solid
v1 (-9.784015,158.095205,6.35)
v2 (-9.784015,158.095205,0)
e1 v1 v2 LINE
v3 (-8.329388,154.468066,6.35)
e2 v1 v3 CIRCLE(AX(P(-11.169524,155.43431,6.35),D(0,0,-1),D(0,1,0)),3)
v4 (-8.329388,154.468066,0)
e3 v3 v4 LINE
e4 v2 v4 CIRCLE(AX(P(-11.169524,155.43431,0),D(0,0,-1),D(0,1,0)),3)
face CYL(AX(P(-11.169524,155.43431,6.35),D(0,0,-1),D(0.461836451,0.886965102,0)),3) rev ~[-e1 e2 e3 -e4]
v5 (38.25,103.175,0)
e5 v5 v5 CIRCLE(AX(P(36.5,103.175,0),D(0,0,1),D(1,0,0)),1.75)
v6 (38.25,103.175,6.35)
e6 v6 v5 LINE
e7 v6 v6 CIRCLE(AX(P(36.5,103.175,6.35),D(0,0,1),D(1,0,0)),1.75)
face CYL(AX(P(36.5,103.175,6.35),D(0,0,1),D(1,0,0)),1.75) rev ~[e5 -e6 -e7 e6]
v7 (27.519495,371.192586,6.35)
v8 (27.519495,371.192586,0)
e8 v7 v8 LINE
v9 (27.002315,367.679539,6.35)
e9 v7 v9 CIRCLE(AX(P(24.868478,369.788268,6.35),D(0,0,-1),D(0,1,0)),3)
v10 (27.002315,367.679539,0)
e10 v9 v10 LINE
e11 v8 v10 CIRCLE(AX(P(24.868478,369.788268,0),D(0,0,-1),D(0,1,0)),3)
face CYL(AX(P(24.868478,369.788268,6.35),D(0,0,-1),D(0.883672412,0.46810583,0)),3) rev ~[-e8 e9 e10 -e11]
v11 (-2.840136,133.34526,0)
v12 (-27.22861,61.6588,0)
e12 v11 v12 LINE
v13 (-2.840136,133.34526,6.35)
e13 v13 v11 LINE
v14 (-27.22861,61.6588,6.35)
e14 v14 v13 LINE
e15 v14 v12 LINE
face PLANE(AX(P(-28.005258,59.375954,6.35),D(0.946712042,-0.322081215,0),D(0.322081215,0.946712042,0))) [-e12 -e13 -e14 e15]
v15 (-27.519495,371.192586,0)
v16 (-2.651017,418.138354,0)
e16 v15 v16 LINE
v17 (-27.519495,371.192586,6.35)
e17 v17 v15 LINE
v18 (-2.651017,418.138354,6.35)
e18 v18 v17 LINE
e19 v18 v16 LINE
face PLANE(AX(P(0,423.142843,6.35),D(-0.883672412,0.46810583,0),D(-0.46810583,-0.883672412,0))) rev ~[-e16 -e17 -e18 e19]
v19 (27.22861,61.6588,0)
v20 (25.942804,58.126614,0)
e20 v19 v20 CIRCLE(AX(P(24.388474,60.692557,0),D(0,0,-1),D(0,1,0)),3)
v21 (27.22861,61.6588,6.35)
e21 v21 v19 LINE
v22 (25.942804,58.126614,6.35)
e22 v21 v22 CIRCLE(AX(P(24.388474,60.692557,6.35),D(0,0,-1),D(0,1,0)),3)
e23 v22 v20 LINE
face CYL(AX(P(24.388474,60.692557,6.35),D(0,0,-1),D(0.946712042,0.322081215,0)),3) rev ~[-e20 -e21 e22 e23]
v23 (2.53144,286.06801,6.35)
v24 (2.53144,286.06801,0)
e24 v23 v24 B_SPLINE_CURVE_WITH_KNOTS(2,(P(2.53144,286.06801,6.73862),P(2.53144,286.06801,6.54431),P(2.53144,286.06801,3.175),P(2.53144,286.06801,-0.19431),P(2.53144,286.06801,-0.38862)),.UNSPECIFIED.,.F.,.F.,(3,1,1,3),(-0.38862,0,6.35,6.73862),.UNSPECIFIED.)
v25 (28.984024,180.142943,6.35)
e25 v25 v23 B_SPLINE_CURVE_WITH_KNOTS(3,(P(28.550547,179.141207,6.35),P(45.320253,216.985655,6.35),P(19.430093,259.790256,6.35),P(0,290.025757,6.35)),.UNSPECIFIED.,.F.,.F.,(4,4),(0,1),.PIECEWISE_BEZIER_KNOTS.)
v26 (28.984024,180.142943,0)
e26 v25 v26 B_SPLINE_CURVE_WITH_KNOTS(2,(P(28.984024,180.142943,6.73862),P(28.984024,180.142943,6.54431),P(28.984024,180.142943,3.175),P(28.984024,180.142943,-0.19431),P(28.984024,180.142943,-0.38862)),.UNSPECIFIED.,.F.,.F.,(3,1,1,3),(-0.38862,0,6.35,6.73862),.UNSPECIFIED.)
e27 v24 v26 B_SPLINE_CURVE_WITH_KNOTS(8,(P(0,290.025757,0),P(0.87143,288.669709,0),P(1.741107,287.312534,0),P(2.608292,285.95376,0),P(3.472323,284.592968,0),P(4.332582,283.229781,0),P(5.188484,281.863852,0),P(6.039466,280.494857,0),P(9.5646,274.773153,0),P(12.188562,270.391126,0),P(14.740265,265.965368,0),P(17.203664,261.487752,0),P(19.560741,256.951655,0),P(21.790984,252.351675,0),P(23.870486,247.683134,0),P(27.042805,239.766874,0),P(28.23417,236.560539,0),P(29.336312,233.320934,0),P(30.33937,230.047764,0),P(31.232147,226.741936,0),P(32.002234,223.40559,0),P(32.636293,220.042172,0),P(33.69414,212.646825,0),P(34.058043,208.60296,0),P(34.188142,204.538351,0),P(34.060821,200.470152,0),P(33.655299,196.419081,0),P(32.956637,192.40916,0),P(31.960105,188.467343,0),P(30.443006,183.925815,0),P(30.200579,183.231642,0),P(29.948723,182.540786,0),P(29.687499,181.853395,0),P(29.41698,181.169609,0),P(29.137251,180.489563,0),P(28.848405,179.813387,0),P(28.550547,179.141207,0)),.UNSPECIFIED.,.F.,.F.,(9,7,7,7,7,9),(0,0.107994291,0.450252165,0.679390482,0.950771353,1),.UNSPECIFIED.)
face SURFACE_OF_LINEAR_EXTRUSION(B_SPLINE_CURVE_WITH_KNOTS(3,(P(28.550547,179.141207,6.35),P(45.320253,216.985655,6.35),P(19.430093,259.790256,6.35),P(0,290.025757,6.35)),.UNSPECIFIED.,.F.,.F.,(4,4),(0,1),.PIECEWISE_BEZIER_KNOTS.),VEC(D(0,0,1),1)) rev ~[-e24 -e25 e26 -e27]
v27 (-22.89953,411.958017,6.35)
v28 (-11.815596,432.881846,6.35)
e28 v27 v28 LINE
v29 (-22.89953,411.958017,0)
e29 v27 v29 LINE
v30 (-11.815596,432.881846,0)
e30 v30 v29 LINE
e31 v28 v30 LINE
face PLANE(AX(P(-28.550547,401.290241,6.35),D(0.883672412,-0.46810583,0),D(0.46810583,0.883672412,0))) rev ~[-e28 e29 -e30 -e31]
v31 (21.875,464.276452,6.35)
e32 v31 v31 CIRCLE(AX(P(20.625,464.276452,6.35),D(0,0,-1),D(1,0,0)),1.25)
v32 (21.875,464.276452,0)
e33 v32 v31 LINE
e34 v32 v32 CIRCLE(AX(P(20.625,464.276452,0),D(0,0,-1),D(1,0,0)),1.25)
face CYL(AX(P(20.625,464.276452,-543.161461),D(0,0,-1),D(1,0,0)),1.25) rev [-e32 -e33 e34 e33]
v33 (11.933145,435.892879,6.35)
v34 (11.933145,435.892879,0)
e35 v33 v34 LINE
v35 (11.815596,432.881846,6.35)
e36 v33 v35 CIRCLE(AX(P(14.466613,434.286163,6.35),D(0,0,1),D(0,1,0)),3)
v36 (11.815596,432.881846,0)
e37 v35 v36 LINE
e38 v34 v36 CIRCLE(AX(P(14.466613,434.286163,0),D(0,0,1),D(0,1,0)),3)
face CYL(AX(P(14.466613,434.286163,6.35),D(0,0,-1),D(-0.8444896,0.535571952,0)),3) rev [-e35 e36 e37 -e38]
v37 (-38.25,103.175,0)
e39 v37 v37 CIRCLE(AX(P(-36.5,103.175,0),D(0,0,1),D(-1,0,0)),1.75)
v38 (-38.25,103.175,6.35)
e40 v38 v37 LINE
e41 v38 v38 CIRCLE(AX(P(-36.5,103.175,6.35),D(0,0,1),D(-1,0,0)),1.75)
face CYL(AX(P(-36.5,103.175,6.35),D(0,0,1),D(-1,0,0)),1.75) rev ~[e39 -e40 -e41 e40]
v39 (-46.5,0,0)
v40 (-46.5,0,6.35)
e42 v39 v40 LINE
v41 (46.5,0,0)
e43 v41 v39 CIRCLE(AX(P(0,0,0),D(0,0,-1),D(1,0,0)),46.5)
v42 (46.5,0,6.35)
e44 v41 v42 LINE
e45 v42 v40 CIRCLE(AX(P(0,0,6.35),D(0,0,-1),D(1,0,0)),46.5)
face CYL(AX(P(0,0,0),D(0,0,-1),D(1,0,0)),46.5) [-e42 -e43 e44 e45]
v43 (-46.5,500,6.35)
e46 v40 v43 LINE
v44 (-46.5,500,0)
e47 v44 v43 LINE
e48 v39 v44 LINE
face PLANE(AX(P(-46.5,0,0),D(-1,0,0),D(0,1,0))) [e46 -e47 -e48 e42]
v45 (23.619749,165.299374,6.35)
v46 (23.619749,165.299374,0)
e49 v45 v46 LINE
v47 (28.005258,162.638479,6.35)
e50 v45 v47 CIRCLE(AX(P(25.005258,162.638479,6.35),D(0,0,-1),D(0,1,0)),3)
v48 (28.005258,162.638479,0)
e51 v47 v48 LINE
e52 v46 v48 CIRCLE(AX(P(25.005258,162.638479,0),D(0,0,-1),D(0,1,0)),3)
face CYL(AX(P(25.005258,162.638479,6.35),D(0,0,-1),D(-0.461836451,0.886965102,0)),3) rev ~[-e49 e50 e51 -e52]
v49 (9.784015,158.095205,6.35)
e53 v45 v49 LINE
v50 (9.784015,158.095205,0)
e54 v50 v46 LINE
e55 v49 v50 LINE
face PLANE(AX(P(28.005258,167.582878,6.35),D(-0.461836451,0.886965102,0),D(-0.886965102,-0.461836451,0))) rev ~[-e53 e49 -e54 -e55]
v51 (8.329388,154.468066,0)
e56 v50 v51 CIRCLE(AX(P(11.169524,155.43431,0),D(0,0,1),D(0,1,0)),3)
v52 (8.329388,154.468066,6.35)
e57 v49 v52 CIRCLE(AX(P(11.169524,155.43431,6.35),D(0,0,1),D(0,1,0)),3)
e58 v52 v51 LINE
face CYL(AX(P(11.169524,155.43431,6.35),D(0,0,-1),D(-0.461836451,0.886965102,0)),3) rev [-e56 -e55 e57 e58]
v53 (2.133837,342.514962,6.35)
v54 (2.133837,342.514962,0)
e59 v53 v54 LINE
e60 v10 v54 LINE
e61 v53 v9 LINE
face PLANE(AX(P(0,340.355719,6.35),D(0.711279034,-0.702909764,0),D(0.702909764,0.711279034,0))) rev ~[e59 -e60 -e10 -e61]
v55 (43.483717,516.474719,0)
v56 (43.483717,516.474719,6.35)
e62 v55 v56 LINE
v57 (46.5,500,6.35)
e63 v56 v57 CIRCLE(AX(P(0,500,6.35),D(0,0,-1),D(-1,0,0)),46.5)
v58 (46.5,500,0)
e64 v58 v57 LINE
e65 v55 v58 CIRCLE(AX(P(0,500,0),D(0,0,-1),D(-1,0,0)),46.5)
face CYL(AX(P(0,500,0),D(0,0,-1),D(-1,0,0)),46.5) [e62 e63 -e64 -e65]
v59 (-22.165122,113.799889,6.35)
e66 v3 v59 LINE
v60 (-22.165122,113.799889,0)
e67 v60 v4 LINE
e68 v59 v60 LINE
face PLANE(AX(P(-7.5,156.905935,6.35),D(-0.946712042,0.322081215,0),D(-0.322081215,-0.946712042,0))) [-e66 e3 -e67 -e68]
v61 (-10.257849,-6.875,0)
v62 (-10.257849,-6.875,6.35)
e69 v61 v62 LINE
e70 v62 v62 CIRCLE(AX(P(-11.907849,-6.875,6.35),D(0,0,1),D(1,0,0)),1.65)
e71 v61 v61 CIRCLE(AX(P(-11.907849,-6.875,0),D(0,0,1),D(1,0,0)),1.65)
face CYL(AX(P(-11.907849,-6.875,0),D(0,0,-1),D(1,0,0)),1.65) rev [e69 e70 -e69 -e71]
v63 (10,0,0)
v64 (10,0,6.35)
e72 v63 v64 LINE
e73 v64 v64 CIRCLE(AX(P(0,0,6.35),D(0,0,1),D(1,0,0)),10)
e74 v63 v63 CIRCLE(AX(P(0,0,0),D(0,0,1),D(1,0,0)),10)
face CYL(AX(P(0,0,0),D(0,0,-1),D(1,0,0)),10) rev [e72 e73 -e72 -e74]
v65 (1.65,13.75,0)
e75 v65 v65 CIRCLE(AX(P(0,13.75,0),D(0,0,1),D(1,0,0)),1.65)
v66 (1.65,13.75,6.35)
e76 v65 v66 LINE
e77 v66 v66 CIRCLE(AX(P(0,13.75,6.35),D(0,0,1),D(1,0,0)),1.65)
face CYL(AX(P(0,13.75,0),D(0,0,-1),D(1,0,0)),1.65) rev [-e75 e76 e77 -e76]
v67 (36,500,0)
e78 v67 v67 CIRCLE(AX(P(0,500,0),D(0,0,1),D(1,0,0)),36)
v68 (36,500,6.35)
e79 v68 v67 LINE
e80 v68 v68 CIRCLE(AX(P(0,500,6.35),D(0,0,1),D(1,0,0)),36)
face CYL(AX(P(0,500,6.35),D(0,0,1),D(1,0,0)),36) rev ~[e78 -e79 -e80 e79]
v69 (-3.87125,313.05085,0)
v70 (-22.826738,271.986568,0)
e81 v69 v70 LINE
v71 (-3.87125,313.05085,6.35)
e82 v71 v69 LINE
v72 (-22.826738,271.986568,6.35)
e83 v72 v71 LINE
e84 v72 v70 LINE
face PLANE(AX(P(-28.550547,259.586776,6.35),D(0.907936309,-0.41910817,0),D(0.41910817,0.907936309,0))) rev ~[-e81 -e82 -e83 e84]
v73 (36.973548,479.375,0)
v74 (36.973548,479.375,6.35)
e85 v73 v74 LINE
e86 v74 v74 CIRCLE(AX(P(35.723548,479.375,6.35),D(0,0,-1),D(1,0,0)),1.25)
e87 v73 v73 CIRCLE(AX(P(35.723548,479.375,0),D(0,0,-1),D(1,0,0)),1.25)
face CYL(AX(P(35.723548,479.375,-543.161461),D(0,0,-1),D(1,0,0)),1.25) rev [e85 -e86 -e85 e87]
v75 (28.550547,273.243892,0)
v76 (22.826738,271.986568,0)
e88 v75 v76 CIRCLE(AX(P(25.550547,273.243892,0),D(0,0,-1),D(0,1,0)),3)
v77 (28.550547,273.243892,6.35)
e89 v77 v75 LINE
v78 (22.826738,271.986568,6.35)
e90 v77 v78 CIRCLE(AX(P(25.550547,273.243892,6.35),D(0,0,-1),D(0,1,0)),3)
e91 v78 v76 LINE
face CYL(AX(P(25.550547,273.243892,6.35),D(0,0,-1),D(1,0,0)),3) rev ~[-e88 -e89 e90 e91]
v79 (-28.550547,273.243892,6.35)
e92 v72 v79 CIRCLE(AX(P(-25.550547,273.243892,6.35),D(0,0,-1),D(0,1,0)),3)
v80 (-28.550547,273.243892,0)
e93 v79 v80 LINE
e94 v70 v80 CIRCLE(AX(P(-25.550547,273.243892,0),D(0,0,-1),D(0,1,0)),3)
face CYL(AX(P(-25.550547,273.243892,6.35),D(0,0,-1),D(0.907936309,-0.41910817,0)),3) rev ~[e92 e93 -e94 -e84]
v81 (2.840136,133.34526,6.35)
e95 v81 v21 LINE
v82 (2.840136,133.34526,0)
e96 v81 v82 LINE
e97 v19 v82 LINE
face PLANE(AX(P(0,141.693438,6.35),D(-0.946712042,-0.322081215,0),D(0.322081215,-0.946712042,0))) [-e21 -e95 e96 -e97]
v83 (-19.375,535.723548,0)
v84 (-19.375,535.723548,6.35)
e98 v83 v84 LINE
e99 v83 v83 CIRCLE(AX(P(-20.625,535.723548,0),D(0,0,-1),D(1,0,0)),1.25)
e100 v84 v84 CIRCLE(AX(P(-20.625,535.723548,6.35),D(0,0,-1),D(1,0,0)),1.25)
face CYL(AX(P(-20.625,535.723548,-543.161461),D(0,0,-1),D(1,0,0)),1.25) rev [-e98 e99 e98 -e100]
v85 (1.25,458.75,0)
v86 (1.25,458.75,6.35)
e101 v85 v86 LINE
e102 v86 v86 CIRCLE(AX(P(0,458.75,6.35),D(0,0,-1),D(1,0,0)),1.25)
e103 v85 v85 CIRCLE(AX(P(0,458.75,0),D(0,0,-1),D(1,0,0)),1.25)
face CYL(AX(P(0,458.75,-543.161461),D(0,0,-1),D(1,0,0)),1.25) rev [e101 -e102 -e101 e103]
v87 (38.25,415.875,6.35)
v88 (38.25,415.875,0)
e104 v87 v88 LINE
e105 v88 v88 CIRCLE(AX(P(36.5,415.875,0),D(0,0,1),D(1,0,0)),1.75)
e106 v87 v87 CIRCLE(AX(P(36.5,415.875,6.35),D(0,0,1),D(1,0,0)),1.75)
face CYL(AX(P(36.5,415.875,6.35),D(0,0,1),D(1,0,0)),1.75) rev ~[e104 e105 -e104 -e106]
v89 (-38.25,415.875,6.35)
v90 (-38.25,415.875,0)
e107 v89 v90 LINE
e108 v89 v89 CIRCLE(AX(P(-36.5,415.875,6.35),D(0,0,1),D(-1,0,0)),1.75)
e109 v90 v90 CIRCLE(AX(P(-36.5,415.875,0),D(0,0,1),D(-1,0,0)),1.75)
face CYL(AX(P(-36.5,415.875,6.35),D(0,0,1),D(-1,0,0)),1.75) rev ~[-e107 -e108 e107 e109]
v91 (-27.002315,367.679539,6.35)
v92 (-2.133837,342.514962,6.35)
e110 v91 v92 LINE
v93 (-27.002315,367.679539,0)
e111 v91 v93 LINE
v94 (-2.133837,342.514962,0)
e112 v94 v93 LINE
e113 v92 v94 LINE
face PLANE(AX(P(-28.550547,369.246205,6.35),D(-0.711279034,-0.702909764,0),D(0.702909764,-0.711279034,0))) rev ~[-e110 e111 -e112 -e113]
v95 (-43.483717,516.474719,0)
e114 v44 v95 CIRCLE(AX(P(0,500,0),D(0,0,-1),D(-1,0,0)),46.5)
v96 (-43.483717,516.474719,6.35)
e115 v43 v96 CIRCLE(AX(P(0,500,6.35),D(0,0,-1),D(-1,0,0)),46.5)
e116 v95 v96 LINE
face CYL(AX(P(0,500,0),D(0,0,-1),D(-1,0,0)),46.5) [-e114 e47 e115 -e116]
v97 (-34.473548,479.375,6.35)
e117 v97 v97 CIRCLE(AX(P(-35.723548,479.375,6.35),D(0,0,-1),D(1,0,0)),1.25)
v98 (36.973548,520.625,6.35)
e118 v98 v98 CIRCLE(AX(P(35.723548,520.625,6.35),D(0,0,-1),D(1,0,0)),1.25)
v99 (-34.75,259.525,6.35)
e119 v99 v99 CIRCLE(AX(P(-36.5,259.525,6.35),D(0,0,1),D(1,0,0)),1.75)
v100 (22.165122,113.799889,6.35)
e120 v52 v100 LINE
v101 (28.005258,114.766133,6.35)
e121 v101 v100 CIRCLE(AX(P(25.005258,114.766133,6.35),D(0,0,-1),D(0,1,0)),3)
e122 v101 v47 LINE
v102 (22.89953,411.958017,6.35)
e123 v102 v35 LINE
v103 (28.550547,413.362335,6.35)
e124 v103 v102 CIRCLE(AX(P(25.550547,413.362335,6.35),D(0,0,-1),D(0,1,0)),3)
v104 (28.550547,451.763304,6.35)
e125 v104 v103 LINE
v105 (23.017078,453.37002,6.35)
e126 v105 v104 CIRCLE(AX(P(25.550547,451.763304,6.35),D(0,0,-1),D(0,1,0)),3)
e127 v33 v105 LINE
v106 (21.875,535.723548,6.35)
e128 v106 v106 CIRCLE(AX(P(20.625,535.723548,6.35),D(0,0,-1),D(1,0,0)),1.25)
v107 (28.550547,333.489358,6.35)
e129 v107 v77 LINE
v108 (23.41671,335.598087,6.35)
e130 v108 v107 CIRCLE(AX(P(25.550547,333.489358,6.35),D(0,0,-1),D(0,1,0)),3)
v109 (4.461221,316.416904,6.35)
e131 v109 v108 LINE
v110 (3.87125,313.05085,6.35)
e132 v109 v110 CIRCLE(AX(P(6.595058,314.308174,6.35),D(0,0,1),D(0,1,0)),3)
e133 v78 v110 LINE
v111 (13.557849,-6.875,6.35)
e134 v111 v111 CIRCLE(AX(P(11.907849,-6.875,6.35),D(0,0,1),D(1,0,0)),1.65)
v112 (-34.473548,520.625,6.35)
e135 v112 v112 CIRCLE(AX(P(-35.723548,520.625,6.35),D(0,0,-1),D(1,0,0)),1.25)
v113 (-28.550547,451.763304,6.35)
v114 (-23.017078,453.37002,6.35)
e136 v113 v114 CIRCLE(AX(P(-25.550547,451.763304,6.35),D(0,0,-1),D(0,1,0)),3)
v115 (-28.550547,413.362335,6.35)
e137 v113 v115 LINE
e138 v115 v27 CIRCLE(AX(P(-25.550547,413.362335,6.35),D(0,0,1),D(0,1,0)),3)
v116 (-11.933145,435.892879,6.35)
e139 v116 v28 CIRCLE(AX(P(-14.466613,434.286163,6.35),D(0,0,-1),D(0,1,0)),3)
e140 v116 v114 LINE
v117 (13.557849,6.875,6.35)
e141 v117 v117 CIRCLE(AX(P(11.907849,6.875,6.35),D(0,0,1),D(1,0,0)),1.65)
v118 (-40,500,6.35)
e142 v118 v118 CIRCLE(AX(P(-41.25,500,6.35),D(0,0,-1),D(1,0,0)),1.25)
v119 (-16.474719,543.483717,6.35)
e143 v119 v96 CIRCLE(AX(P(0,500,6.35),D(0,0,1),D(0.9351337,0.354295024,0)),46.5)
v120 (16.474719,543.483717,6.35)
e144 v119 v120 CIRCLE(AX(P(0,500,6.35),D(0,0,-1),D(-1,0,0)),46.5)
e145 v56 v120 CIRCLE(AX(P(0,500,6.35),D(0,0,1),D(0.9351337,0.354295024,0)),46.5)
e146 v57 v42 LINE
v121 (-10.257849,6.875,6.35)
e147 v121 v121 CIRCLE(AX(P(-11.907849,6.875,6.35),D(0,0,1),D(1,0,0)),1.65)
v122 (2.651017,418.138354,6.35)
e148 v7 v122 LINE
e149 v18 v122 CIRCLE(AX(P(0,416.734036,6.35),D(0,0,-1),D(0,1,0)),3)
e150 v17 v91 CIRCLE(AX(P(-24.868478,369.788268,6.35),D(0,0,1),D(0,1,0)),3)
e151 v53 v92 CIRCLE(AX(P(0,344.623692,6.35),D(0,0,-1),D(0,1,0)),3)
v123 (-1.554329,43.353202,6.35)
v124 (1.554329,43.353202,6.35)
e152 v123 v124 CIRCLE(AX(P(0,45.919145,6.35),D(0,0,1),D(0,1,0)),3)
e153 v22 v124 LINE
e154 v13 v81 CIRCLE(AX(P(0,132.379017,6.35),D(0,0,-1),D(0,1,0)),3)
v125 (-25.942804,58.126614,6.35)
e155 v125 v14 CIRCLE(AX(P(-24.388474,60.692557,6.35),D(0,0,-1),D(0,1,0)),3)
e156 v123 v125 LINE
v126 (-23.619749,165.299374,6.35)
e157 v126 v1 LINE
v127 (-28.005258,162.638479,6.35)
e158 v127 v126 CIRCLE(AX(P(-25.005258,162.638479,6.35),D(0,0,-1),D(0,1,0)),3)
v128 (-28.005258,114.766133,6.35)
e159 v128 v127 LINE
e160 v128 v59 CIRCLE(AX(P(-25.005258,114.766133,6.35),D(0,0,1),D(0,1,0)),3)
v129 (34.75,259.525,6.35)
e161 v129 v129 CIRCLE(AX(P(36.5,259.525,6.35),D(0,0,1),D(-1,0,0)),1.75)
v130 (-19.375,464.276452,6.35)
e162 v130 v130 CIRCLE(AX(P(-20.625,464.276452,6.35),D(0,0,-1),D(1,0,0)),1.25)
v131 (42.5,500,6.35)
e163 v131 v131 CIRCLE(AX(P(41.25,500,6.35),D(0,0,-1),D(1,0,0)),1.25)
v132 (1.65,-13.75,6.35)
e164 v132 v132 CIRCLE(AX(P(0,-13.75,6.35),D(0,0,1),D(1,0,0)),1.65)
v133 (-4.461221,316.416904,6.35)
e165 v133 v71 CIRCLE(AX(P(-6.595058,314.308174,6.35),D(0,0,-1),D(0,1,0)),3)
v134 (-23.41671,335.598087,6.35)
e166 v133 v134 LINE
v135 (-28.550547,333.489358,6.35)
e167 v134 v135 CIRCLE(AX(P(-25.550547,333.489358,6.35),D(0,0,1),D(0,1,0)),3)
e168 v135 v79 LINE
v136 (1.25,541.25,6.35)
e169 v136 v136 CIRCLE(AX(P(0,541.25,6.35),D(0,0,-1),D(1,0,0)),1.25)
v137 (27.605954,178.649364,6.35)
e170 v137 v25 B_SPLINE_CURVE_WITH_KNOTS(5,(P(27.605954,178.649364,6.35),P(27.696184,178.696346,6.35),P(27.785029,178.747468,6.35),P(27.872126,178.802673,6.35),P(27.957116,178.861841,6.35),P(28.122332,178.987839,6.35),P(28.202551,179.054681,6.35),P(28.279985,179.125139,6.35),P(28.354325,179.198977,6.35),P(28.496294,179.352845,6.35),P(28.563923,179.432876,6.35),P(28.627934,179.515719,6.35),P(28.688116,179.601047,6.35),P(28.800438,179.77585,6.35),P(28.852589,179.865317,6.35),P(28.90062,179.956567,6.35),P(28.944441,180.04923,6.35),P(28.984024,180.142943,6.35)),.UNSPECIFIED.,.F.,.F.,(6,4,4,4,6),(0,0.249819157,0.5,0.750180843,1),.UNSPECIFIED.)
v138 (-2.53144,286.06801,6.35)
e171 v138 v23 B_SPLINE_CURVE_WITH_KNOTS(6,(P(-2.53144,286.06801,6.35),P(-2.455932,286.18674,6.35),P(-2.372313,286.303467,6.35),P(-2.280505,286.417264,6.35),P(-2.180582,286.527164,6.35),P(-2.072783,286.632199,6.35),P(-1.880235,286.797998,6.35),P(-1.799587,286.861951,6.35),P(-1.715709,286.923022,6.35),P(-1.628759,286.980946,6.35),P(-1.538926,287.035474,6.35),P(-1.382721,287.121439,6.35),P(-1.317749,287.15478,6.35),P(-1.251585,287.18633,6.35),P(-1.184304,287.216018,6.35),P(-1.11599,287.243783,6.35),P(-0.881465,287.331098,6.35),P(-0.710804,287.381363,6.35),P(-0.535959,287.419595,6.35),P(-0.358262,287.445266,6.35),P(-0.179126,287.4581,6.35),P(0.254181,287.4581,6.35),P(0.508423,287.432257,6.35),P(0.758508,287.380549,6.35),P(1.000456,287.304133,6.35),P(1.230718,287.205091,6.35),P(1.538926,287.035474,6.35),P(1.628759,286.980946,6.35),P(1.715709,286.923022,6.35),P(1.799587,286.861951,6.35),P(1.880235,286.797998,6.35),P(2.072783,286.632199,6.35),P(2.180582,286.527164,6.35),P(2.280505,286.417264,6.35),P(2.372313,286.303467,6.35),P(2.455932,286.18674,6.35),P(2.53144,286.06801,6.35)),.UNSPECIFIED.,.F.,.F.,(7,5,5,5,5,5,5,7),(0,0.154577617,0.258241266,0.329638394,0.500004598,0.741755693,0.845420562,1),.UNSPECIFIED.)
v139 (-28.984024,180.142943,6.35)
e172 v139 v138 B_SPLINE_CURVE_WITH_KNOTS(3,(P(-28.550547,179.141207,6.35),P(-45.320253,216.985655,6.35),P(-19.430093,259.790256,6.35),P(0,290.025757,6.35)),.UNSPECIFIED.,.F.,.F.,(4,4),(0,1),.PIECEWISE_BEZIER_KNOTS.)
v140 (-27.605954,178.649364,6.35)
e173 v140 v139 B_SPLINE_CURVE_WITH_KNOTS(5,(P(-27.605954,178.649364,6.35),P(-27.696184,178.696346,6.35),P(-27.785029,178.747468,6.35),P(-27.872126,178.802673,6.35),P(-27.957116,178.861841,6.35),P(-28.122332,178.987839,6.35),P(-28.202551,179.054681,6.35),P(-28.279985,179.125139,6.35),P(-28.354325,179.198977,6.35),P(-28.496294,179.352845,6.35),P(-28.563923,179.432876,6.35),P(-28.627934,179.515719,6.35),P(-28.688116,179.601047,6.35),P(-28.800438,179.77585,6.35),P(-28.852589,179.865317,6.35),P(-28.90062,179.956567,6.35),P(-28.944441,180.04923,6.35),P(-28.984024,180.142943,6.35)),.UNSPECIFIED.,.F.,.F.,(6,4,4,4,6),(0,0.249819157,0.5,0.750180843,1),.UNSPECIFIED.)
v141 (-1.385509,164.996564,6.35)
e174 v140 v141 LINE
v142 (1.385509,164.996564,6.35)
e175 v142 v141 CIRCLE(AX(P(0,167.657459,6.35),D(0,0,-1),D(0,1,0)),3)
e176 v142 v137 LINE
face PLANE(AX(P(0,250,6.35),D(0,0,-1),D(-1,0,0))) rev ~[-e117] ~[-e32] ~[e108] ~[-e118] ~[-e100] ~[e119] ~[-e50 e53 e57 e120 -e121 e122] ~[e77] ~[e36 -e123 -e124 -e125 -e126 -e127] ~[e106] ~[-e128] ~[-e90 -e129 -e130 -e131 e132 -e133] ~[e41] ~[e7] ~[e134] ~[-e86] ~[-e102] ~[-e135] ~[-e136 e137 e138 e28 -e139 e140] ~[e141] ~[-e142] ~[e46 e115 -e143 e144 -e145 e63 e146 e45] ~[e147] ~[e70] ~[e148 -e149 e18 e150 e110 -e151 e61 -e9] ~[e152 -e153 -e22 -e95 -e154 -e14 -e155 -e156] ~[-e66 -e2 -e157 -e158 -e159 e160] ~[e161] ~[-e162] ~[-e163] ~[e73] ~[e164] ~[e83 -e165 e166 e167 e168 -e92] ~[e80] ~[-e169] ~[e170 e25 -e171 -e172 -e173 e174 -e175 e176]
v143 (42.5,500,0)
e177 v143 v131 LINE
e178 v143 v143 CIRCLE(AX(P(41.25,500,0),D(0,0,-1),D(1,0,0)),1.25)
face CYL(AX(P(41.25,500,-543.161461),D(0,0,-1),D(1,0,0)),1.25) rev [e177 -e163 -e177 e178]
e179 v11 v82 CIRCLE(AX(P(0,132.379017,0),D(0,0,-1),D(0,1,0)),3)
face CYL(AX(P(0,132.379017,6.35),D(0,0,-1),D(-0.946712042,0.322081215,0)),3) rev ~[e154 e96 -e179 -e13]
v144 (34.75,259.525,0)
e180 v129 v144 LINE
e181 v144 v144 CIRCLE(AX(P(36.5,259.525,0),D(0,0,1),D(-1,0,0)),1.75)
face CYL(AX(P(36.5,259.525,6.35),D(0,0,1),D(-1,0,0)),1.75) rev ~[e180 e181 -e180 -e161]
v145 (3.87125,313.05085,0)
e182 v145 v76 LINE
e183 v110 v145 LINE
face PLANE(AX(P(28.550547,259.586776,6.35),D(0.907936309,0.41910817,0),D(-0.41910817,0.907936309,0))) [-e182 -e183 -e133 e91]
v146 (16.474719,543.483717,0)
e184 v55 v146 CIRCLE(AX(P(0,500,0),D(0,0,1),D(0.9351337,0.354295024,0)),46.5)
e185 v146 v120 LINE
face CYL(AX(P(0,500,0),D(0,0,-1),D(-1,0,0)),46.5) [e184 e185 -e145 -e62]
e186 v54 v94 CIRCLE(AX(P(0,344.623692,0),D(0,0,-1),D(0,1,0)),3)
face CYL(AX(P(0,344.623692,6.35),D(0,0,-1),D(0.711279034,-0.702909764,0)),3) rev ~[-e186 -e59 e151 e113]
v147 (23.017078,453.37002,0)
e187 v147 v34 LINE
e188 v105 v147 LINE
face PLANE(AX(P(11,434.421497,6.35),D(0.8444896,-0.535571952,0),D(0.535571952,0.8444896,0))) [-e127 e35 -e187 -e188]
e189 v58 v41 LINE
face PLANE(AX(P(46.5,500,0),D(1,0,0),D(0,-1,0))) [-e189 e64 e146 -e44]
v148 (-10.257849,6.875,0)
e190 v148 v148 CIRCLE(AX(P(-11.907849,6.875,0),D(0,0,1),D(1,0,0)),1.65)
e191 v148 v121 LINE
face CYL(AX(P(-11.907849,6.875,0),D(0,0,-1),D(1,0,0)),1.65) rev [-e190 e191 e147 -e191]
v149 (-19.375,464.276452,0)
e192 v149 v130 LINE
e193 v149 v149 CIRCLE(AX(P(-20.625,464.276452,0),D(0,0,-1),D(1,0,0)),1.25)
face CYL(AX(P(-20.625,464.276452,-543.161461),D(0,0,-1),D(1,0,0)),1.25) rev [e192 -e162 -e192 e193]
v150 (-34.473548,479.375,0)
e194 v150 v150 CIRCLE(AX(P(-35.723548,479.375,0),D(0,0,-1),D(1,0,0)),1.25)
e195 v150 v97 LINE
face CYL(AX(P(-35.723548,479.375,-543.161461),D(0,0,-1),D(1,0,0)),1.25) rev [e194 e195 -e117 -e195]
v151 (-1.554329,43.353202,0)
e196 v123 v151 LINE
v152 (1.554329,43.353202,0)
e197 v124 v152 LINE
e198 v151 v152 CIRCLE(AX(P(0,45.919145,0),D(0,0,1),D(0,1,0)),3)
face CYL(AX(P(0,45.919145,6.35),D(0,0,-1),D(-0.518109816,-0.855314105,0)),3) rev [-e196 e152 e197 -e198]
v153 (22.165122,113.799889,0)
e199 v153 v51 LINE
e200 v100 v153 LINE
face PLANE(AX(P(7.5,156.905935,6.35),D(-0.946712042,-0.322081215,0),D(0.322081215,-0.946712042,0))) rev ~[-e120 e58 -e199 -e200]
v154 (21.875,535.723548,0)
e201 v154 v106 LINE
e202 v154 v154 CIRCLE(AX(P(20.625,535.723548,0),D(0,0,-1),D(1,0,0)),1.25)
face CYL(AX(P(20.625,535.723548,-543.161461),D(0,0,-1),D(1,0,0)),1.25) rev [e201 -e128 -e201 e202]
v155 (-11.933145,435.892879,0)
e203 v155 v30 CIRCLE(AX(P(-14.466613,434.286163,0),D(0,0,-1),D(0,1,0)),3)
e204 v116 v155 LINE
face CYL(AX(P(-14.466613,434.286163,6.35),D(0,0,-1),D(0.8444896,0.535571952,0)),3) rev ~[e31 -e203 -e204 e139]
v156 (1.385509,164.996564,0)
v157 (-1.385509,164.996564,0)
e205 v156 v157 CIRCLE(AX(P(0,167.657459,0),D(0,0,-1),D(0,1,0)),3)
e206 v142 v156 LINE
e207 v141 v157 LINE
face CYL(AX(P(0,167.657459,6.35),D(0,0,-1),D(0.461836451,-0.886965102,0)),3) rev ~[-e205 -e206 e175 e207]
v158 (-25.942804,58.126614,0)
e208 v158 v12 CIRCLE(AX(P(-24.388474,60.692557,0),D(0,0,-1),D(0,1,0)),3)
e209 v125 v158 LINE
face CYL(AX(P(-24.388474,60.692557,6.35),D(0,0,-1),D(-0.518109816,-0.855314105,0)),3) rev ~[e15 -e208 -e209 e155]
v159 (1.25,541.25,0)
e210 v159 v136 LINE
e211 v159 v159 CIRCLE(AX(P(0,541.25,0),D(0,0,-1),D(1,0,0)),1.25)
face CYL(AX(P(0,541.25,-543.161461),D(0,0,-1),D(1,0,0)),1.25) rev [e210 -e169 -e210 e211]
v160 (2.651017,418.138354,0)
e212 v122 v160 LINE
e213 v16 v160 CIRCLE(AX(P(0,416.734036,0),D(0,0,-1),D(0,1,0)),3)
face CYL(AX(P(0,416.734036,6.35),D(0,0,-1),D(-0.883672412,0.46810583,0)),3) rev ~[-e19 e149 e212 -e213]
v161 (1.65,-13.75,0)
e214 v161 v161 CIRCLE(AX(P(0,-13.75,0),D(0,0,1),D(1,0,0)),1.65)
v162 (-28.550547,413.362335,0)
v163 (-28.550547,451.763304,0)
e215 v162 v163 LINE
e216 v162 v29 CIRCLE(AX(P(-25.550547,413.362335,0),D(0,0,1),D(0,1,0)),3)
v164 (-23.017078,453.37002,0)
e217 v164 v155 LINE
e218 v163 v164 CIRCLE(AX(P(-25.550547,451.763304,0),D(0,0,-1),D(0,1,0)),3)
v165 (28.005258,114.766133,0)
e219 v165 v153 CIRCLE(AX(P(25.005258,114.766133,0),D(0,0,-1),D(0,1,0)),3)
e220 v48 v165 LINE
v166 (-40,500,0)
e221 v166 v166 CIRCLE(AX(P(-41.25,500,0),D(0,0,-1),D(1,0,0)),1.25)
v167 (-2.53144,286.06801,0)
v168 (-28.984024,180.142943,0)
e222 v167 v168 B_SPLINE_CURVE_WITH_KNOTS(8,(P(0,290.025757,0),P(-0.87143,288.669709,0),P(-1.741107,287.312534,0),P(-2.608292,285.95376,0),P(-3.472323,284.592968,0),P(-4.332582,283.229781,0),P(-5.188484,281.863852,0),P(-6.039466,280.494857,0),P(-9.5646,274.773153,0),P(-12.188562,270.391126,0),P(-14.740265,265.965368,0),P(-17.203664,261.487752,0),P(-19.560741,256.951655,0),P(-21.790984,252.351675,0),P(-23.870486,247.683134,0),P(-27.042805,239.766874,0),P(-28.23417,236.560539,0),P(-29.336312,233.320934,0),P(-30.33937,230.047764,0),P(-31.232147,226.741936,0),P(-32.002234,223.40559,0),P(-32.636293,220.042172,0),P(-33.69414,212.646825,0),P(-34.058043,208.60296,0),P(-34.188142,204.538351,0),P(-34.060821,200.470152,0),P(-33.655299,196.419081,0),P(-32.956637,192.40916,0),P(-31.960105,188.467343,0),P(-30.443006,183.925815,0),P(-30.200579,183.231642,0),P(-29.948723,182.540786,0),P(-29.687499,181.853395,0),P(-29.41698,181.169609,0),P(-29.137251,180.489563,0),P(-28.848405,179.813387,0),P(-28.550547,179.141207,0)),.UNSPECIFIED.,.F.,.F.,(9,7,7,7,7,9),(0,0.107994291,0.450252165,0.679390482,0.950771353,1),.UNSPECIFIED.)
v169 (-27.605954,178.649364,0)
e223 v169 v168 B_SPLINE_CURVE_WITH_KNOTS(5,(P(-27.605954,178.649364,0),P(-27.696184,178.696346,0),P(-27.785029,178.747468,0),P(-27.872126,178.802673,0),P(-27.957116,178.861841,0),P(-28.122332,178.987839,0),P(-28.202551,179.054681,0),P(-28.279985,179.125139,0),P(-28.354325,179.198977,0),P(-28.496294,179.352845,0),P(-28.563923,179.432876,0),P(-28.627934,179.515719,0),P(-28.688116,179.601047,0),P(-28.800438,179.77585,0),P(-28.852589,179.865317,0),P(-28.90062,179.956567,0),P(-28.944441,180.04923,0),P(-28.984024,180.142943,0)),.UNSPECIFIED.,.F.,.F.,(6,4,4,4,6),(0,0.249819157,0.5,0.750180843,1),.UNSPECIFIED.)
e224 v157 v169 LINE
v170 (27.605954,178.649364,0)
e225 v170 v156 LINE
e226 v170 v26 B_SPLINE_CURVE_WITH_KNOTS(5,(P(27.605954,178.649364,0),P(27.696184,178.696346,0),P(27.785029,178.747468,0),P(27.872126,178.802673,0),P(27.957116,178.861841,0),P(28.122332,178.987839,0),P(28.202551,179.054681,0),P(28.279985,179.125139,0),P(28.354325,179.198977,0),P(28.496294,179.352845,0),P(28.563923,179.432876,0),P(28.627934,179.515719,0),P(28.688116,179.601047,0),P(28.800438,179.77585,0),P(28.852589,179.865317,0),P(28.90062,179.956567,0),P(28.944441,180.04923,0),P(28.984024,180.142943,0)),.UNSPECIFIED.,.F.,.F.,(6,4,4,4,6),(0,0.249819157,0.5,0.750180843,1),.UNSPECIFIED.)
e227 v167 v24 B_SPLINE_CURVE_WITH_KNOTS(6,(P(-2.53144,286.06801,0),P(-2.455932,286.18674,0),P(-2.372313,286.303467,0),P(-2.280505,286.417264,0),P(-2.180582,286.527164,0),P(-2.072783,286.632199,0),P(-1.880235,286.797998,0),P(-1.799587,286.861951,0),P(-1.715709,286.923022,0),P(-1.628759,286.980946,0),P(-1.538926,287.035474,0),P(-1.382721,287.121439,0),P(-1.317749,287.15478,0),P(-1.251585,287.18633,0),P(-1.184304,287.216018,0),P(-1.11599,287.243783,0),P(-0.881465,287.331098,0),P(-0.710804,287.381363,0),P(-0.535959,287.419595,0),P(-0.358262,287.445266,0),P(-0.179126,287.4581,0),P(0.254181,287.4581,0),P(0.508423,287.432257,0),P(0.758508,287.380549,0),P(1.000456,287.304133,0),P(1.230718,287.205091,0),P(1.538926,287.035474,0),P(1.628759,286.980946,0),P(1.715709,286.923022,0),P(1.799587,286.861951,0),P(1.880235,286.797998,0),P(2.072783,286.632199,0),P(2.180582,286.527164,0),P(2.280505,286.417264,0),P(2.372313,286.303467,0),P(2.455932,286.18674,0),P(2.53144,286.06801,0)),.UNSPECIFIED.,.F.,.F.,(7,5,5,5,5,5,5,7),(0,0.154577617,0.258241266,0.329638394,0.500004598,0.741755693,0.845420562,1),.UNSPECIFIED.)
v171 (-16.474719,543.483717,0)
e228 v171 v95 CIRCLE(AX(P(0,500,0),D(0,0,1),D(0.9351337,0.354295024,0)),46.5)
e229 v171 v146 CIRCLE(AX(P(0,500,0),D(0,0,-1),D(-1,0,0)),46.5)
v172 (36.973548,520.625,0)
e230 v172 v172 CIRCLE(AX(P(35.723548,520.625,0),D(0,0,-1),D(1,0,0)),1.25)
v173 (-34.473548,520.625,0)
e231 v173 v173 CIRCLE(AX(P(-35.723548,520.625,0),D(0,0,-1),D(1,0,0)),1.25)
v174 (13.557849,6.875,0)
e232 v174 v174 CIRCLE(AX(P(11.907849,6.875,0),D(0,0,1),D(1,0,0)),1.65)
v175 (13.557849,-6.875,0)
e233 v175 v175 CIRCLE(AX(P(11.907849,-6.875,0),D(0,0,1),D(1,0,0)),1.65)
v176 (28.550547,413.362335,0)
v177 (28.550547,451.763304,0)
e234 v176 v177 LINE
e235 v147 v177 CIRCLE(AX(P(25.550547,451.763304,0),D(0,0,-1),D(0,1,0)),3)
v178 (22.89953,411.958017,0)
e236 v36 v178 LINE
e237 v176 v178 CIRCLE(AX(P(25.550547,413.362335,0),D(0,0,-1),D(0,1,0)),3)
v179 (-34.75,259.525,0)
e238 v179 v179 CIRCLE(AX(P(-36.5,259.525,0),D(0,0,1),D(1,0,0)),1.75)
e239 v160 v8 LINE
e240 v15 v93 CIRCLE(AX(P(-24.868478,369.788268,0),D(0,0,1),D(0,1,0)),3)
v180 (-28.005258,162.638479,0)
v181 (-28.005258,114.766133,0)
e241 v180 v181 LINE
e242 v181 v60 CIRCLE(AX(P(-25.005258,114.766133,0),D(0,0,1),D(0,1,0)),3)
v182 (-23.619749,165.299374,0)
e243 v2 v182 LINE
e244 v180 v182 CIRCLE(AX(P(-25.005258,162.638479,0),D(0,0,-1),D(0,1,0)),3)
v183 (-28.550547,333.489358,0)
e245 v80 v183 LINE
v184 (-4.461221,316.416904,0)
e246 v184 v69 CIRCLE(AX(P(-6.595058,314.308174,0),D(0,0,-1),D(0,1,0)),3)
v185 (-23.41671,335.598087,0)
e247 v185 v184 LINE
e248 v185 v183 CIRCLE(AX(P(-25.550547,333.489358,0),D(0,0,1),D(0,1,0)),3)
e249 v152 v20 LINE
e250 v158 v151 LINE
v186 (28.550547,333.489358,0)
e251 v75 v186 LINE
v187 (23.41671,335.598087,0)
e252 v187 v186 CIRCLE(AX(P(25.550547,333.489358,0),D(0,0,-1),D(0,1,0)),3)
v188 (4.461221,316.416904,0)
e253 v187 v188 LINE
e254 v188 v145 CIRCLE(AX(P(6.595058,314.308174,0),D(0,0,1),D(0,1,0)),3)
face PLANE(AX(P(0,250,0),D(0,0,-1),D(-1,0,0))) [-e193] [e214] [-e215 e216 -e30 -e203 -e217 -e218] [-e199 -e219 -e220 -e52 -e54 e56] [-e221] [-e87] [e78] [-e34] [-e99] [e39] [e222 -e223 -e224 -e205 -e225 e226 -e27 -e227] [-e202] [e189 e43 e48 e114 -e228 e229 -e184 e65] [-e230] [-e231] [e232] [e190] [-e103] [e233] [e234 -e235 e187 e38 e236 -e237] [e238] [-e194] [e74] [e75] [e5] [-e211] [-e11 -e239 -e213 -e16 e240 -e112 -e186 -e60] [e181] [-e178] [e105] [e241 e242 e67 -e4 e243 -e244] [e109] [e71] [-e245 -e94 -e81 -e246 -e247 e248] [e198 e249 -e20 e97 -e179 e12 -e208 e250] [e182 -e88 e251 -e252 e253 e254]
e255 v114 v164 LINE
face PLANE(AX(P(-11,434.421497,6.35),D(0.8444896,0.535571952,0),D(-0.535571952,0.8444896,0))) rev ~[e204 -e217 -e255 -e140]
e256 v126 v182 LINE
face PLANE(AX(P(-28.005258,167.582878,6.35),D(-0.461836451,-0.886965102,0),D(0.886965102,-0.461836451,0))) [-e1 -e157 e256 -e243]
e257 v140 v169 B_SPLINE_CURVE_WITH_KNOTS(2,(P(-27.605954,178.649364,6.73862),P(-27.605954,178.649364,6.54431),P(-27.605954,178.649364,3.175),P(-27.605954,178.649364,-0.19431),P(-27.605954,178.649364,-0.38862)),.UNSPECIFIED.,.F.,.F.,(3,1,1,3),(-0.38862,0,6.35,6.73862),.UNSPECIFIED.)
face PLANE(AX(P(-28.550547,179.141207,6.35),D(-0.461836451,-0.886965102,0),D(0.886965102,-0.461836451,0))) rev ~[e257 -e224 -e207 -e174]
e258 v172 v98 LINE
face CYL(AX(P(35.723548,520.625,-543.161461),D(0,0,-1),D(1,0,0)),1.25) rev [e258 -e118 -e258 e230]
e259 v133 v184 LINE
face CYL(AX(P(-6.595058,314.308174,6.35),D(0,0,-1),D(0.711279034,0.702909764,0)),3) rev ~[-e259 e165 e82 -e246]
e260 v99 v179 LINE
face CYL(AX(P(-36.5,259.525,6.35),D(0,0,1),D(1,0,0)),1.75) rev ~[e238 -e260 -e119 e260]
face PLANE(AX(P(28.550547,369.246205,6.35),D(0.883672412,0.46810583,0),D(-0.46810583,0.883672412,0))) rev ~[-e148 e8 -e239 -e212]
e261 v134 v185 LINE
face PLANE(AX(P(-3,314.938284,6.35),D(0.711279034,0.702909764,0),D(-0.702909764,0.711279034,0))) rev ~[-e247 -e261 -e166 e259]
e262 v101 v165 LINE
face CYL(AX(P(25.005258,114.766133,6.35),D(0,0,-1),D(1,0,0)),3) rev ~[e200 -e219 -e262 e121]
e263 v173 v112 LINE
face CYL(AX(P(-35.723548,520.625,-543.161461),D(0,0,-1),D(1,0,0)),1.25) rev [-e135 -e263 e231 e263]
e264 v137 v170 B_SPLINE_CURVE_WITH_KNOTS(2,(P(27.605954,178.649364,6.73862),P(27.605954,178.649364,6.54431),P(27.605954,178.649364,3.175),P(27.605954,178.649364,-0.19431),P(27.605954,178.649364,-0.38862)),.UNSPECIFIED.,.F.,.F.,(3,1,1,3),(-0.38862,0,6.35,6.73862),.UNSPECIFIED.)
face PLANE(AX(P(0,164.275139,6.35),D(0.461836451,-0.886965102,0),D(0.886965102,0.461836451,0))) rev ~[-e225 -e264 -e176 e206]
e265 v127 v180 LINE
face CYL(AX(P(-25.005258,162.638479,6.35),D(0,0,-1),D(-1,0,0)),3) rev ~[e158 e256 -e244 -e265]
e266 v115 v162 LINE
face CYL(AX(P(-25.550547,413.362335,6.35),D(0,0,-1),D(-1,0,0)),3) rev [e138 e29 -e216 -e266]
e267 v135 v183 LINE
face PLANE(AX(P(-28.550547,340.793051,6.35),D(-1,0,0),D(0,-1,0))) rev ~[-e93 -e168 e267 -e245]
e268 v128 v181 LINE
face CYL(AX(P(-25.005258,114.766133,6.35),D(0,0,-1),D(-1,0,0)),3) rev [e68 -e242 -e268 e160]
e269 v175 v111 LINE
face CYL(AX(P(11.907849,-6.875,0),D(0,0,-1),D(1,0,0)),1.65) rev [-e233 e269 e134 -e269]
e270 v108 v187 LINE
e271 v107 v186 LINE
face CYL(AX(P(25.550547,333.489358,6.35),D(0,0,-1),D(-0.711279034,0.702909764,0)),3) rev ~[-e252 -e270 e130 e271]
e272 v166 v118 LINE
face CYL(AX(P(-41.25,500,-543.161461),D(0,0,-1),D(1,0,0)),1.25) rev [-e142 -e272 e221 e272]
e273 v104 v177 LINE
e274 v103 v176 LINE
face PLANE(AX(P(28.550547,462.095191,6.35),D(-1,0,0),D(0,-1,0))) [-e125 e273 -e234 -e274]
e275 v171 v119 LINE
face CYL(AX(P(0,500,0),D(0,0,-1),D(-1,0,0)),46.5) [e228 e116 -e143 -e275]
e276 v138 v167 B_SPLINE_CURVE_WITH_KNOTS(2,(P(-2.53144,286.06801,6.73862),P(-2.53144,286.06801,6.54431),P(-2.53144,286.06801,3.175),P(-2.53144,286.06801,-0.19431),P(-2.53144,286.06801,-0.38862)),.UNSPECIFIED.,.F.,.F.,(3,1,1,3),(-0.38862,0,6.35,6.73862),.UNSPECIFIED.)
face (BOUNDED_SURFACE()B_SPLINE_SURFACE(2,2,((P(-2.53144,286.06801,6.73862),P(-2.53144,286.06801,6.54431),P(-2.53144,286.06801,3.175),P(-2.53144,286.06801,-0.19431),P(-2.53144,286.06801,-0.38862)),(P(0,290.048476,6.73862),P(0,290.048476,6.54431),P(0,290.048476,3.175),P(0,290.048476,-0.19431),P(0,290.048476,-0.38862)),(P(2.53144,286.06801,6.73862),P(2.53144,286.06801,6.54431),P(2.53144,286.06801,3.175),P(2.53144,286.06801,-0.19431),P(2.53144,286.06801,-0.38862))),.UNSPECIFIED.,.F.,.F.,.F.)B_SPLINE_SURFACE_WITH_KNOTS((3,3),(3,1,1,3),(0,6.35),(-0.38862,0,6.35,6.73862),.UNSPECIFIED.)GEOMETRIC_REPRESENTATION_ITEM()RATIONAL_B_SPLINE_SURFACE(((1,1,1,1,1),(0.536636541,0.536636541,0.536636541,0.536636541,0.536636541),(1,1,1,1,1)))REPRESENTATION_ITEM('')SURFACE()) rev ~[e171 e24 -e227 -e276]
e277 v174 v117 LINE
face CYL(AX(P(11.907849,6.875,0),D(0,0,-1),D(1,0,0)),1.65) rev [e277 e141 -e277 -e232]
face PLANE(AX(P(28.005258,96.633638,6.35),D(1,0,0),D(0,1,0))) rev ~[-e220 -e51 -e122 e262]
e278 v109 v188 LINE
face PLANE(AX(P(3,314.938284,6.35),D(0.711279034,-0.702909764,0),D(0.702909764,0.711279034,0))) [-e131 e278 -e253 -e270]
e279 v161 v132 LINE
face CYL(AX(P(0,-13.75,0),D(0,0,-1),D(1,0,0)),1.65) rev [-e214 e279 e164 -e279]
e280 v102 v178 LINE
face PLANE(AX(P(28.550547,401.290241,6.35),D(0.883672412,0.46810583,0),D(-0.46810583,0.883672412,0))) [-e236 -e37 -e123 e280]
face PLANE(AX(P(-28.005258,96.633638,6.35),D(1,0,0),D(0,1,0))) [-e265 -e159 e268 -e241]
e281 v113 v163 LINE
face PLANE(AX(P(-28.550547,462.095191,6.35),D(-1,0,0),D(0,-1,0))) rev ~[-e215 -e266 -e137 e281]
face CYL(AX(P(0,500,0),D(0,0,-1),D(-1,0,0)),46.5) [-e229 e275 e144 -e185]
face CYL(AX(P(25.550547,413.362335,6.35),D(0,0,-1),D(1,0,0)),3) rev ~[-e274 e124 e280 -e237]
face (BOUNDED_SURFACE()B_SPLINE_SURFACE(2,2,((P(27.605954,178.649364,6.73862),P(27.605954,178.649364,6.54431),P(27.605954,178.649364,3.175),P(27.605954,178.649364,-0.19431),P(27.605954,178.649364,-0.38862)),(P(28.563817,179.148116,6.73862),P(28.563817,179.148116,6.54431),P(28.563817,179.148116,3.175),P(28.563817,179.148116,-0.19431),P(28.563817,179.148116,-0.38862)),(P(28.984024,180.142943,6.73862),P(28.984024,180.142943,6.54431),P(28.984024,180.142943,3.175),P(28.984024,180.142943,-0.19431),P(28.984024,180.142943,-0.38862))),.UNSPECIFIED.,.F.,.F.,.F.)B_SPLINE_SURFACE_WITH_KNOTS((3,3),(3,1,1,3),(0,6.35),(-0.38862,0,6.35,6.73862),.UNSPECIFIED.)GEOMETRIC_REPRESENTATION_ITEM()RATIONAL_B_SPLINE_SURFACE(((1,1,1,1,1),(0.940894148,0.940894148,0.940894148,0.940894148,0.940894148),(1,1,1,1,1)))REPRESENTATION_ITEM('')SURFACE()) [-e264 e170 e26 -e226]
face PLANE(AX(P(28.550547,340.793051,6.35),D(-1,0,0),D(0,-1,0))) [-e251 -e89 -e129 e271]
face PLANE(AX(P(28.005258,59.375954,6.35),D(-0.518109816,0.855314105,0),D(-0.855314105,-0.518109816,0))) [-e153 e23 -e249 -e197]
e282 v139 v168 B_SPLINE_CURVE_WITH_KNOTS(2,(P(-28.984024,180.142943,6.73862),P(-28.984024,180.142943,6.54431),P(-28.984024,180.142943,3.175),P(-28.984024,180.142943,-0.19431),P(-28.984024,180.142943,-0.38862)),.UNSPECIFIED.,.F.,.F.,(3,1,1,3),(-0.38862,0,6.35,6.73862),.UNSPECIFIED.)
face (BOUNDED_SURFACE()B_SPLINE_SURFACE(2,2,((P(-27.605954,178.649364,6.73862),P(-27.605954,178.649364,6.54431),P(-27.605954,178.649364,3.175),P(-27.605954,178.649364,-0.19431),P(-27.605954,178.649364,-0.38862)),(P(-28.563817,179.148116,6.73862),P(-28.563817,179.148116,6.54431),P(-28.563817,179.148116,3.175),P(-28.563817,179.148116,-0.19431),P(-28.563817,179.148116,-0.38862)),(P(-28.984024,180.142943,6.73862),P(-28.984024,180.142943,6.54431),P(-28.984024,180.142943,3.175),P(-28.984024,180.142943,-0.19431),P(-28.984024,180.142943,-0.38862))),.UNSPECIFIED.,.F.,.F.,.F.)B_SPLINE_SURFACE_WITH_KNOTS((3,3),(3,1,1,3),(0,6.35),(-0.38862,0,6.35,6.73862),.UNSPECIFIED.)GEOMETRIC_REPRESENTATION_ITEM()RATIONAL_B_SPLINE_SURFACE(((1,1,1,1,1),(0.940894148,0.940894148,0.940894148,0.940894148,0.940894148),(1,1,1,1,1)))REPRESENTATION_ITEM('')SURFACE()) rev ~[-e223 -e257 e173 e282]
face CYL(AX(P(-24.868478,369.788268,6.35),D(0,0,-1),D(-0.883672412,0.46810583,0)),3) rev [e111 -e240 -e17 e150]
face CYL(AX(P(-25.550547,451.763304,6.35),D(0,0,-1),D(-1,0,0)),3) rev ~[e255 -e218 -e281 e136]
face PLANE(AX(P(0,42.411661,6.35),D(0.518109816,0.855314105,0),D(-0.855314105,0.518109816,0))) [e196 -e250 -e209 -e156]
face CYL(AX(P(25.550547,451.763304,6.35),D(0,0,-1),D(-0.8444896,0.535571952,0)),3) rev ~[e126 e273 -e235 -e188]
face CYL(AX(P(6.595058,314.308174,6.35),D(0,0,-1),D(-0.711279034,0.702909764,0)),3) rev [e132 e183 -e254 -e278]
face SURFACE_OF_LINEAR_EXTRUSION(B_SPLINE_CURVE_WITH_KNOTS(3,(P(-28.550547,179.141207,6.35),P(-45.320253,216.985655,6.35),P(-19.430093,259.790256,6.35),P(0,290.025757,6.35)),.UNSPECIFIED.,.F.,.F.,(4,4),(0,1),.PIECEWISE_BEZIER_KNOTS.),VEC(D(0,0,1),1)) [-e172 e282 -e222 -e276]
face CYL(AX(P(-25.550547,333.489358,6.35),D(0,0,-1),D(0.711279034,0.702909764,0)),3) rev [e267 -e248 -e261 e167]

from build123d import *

# Parameters (mm, degrees)
SKETCH2_R                            = 10
SKETCH2_R_2                          = 1.65
BOSS_EXTRUDE1_DEPTH                  = 6.35
CUT_EXTRUDE1_DEPTH                   = 10
FILLET3_R                            = 3
SKETCH5_R                            = 1.75
CUT_EXTRUDE2_DEPTH                   = 549.511460792
SKETCH6_R                            = 26.5
CUT_EXTRUDE3_DEPTH                   = 10
BOSS_EXTRUDE2_START                  = -6.35
BOSS_EXTRUDE2_DEPTH                  = 6.35
TAP_DRILL_FOR_M3X0_5_TAP1_AT_2_COUNT = 2
TAP_DRILL_FOR_M3X0_5_TAP1_AT_2_PITCH = 12
CIRPATTERN2_COUNT                    = 2
CIRPATTERN2_ANGLE                    = 90
CUT_EXTRUDE4_DEPTH                   = 549.511460792
SKETCH11_R                           = 36
CUT_EXTRUDE5_DEPTH                   = 549.511460792
CUT_EXTRUDE6_DEPTH                   = 549.511460792
CUT_EXTRUDE6_DEPTH_BACK              = 549.511460792
SKETCH12_R                           = 1.25


with BuildPart() as part:
    # Sketch2 → Boss-Extrude1 (new body)
    with BuildSketch(Plane.XY):
        with BuildLine():
            Line((-46.5, 0), (-46.5, 500))
            ThreePointArc((-46.5, 500), (0, 546.5), (46.5, 500))
            Line((46.5, 500), (46.5, 0))
            ThreePointArc((46.5, 0), (0, -46.5), (-46.5, 0))
        make_face()
        Circle(SKETCH2_R, mode=Mode.SUBTRACT)
        with Locations((0, 13.75)):
            Circle(SKETCH2_R_2, mode=Mode.SUBTRACT)
        with Locations((11.907849302, 6.875)):
            Circle(SKETCH2_R_2, mode=Mode.SUBTRACT)
        with Locations((11.907849302, -6.875)):
            Circle(SKETCH2_R_2, mode=Mode.SUBTRACT)
        with Locations((0, -13.75)):
            Circle(SKETCH2_R_2, mode=Mode.SUBTRACT)
        with Locations((-11.907849302, -6.875)):
            Circle(SKETCH2_R_2, mode=Mode.SUBTRACT)
        with Locations((-11.907849302, 6.875)):
            Circle(SKETCH2_R_2, mode=Mode.SUBTRACT)
    extrude(amount=BOSS_EXTRUDE1_DEPTH)

    # Sketch4 → Cut-Extrude1 (cut)
    with BuildSketch(Plane.XY.offset(6.35)):
        Polygon((28.005258112, 59.37595418), (0, 42.411661153), (-28.005258112, 59.37595418), (0, 141.693437584), align=None)
        Polygon((-7.5, 156.905935087), (-28.005258112, 96.633637735), (-28.005258112, 167.582877854), align=None)
        Polygon((28.005258112, 167.582877854), (7.5, 156.905935087), (28.005258112, 96.633637735), align=None)
        with BuildLine():
            Line((0, 164.275138905), (28.550546746, 179.141206521))
            add(Edge.make_bspline(
                [(28.550546746, 179.141206521), (45.32025339, 216.985654627), (19.430092874, 259.790255689), (0, 290.025756679)],
                knots=[0, 0, 0, 0, 1, 1, 1, 1], degree=3))
            add(Edge.make_bspline(
                [(-28.550546746, 179.141206521), (-45.32025339, 216.985654627), (-19.430092874, 259.790255689), (0, 290.025756679)],
                knots=[0, 0, 0, 0, 1, 1, 1, 1], degree=3))
            Line((-28.550546746, 179.141206521), (0, 164.275138905))
        make_face()
        Polygon((28.550546746, 259.58677623), (3, 314.938284003), (28.550546746, 340.793051053), align=None)
        Polygon((-3, 314.938284003), (-28.550546746, 340.793051053), (-28.550546746, 259.58677623), align=None)
        Polygon((0, 423.142843498), (-28.550546746, 369.246205395), (0, 340.355718526), (28.550546746, 369.246205395), align=None)
        Polygon((-28.550546746, 462.095190817), (-28.550546746, 401.290241252), (-11, 434.421497018), align=None)
        Polygon((28.550546746, 401.290241252), (11, 434.421497018), (28.550546746, 462.095190817), align=None)
    extrude(amount=-CUT_EXTRUDE1_DEPTH, mode=Mode.SUBTRACT)

    # Fillet3
    fillet3_edges = [part.edges().sort_by_distance(p)[0] for p in [
        (-11, 434.421497018, 3.175),
        (-28.550546746, 401.290241252, 3.175),
        (28.550546746, 401.290241252, 3.175),
        (11, 434.421497018, 3.175),
        (28.550546746, 462.095190817, 3.175),
        (-28.550546746, 462.095190817, 3.175),
        (0, 423.142843498, 3.175),
        (-28.550546746, 369.246205395, 3.175),
        (28.550546746, 369.246205395, 3.175),
        (0, 340.355718526, 3.175),
        (28.550546746, 340.793051053, 3.175),
        (-28.550546746, 340.793051053, 3.175),
        (-3, 314.938284003, 3.175),
        (3, 314.938284003, 3.175),
        (28.550546746, 259.58677623, 3.175),
        (-28.550546746, 259.58677623, 3.175),
        (28.550546746, 179.141206521, 3.175),
        (0, 290.025756679, 3.175),
        (-28.550546746, 179.141206521, 3.175),
        (0, 164.275138905, 3.175),
        (-28.005258112, 96.633637735, 3.175),
        (28.005258112, 96.633637735, 3.175),
        (7.5, 156.905935087, 3.175),
        (-28.005258112, 167.582877854, 3.175),
        (28.005258112, 167.582877854, 3.175),
        (0, 141.693437584, 3.175),
        (28.005258112, 59.37595418, 3.175),
        (-28.005258112, 59.37595418, 3.175),
        (0, 42.411661153, 3.175),
        (-7.5, 156.905935087, 3.175),
    ]]
    fillet(fillet3_edges, radius=FILLET3_R)

    # Sketch5 → Cut-Extrude2 (cut, through all)
    with BuildSketch(Plane.XY.offset(6.35)):
        with Locations((36.5, 103.175)):
            Circle(SKETCH5_R)
        with Locations(Location((-36.5, 103.175, 0), (0, 0, 180))):
            Circle(SKETCH5_R)
        with Locations(Location((36.5, 259.525, 0), (0, 0, 180))):
            Circle(SKETCH5_R)
        with Locations((-36.5, 259.525)):
            Circle(SKETCH5_R)
        with Locations((36.5, 415.875)):
            Circle(SKETCH5_R)
        with Locations(Location((-36.5, 415.875, 0), (0, 0, 180))):
            Circle(SKETCH5_R)
    extrude(amount=-CUT_EXTRUDE2_DEPTH, mode=Mode.SUBTRACT)

    # Sketch6 → Cut-Extrude3 (cut)
    with BuildSketch(Plane.XY.offset(6.35)):
        with Locations((0, 500)):
            Circle(SKETCH6_R)
    extrude(amount=-CUT_EXTRUDE3_DEPTH, mode=Mode.SUBTRACT)

    # Sketch7 → Boss-Extrude2 (add)
    with BuildSketch(Plane.XY.offset(6.35).offset(BOSS_EXTRUDE2_START)):
        with BuildLine():
            Line((44.110383395, 529.968247771), (29.968247771, 544.110383395))
            ThreePointArc((29.968247771, 544.110383395), (23.286397782, 542.399293624), (16.474718596, 543.483717035))
            ThreePointArc((16.474718596, 543.483717035), (32.880465325, 532.880465325), (43.483717035, 516.474718596))
            ThreePointArc((43.483717035, 516.474718596), (42.399293624, 523.286397782), (44.110383395, 529.968247771))
        make_face()
    boss_extrude2 = extrude(amount=BOSS_EXTRUDE2_DEPTH)

    # Sketch9 → Tap Drill for M3x0.5 Tap1 (revolve, cut)
    with BuildSketch(Plane(origin=(32.796674896, 541.28195627, 3.175), x_dir=(-0.7071067811865481, 0.7071067811865469, 0), z_dir=(0, 0, 1))):
        Polygon((0, 0), (0, 5.751075774), (1.25, 5), (1.25, 0), align=None)
    tap_drill_for_m3x0_5_tap1 = revolve(axis=Axis((37.286802956, 545.772084331, 3.175), (-0.7071067811865468, -0.7071067811865482, 0)), mode=Mode.SUBTRACT)

    # Tap Drill for M3x0.5 Tap1 at 2: Tap Drill for M3x0.5 Tap1 ×2
    with Locations(*[Vector(0.7071067811865482, -0.7071067811865468, 0) * (i * TAP_DRILL_FOR_M3X0_5_TAP1_AT_2_PITCH) for i in range(1, TAP_DRILL_FOR_M3X0_5_TAP1_AT_2_COUNT)]):
        add(tap_drill_for_m3x0_5_tap1, mode=Mode.SUBTRACT)

    # CirPattern2: Boss-Extrude2, Tap Drill for M3x0.5 Tap1 ×2 about axis
    cirpattern2_axis = Axis((0, 500, 0), (0, 0, 1))
    add([boss_extrude2.rotate(cirpattern2_axis, i * CIRPATTERN2_ANGLE / (CIRPATTERN2_COUNT - 1)) for i in range(1, CIRPATTERN2_COUNT)])
    add([tap_drill_for_m3x0_5_tap1.rotate(cirpattern2_axis, i * CIRPATTERN2_ANGLE / (CIRPATTERN2_COUNT - 1)) for i in range(1, CIRPATTERN2_COUNT)], mode=Mode.SUBTRACT)

    # CirPattern2 copy 1 sketch → CirPattern2 copy 1 (revolve, cut)
    with BuildSketch(Plane(origin=(-32.796674896, 541.28195627, 3.175), x_dir=(-0.7071067811865445, -0.7071067811865506, 0), z_dir=(0, 0, 1))):
        Polygon((0, 0), (0, 5.751075774), (1.25, 5), (1.25, 0), align=None)
    revolve(axis=Axis((-37.286802956, 545.772084331, 3.175), (0.7071067811865507, -0.7071067811865444, 0)), mode=Mode.SUBTRACT)

    # Sketch10 → Cut-Extrude4 (cut, through all)
    with BuildSketch(Plane.XY.offset(6.35)):
        with BuildLine():
            Line((-43.483717035, 516.474718596), (-63.483717035, 516.474718596))
            ThreePointArc((-63.483717035, 516.474718596), (0, 565.586573942), (63.483717035, 516.474718596))
            Line((63.483717035, 516.474718596), (43.483717035, 516.474718596))
            ThreePointArc((43.483717035, 516.474718596), (0, 546.5), (-43.483717035, 516.474718596))
        make_face()
    extrude(amount=-CUT_EXTRUDE4_DEPTH, mode=Mode.SUBTRACT)

    # Sketch11 → Cut-Extrude5 (cut, through all)
    with BuildSketch(Plane.XY.offset(6.35)):
        with Locations((0, 500)):
            Circle(SKETCH11_R)
    extrude(amount=-CUT_EXTRUDE5_DEPTH, mode=Mode.SUBTRACT)

    # Sketch12 → Cut-Extrude6 (cut, two sides: drawn at the far end of the back side and taken through both)
    with BuildSketch(Plane.XY.offset(6.35).offset(-CUT_EXTRUDE6_DEPTH_BACK)):
        with Locations((0, 541.25)):
            Circle(SKETCH12_R)
        with Locations((20.625, 535.723547906)):
            Circle(SKETCH12_R)
        with Locations((35.723547906, 520.625)):
            Circle(SKETCH12_R)
        with Locations((41.25, 500)):
            Circle(SKETCH12_R)
        with Locations((35.723547906, 479.375)):
            Circle(SKETCH12_R)
        with Locations((20.625, 464.276452094)):
            Circle(SKETCH12_R)
        with Locations((0, 458.75)):
            Circle(SKETCH12_R)
        with Locations((-20.625, 464.276452094)):
            Circle(SKETCH12_R)
        with Locations((-35.723547906, 479.375)):
            Circle(SKETCH12_R)
        with Locations((-41.25, 500)):
            Circle(SKETCH12_R)
        with Locations((-35.723547906, 520.625)):
            Circle(SKETCH12_R)
        with Locations((-20.625, 535.723547906)):
            Circle(SKETCH12_R)
    extrude(amount=CUT_EXTRUDE6_DEPTH + CUT_EXTRUDE6_DEPTH_BACK, mode=Mode.SUBTRACT)


solid = part.part
